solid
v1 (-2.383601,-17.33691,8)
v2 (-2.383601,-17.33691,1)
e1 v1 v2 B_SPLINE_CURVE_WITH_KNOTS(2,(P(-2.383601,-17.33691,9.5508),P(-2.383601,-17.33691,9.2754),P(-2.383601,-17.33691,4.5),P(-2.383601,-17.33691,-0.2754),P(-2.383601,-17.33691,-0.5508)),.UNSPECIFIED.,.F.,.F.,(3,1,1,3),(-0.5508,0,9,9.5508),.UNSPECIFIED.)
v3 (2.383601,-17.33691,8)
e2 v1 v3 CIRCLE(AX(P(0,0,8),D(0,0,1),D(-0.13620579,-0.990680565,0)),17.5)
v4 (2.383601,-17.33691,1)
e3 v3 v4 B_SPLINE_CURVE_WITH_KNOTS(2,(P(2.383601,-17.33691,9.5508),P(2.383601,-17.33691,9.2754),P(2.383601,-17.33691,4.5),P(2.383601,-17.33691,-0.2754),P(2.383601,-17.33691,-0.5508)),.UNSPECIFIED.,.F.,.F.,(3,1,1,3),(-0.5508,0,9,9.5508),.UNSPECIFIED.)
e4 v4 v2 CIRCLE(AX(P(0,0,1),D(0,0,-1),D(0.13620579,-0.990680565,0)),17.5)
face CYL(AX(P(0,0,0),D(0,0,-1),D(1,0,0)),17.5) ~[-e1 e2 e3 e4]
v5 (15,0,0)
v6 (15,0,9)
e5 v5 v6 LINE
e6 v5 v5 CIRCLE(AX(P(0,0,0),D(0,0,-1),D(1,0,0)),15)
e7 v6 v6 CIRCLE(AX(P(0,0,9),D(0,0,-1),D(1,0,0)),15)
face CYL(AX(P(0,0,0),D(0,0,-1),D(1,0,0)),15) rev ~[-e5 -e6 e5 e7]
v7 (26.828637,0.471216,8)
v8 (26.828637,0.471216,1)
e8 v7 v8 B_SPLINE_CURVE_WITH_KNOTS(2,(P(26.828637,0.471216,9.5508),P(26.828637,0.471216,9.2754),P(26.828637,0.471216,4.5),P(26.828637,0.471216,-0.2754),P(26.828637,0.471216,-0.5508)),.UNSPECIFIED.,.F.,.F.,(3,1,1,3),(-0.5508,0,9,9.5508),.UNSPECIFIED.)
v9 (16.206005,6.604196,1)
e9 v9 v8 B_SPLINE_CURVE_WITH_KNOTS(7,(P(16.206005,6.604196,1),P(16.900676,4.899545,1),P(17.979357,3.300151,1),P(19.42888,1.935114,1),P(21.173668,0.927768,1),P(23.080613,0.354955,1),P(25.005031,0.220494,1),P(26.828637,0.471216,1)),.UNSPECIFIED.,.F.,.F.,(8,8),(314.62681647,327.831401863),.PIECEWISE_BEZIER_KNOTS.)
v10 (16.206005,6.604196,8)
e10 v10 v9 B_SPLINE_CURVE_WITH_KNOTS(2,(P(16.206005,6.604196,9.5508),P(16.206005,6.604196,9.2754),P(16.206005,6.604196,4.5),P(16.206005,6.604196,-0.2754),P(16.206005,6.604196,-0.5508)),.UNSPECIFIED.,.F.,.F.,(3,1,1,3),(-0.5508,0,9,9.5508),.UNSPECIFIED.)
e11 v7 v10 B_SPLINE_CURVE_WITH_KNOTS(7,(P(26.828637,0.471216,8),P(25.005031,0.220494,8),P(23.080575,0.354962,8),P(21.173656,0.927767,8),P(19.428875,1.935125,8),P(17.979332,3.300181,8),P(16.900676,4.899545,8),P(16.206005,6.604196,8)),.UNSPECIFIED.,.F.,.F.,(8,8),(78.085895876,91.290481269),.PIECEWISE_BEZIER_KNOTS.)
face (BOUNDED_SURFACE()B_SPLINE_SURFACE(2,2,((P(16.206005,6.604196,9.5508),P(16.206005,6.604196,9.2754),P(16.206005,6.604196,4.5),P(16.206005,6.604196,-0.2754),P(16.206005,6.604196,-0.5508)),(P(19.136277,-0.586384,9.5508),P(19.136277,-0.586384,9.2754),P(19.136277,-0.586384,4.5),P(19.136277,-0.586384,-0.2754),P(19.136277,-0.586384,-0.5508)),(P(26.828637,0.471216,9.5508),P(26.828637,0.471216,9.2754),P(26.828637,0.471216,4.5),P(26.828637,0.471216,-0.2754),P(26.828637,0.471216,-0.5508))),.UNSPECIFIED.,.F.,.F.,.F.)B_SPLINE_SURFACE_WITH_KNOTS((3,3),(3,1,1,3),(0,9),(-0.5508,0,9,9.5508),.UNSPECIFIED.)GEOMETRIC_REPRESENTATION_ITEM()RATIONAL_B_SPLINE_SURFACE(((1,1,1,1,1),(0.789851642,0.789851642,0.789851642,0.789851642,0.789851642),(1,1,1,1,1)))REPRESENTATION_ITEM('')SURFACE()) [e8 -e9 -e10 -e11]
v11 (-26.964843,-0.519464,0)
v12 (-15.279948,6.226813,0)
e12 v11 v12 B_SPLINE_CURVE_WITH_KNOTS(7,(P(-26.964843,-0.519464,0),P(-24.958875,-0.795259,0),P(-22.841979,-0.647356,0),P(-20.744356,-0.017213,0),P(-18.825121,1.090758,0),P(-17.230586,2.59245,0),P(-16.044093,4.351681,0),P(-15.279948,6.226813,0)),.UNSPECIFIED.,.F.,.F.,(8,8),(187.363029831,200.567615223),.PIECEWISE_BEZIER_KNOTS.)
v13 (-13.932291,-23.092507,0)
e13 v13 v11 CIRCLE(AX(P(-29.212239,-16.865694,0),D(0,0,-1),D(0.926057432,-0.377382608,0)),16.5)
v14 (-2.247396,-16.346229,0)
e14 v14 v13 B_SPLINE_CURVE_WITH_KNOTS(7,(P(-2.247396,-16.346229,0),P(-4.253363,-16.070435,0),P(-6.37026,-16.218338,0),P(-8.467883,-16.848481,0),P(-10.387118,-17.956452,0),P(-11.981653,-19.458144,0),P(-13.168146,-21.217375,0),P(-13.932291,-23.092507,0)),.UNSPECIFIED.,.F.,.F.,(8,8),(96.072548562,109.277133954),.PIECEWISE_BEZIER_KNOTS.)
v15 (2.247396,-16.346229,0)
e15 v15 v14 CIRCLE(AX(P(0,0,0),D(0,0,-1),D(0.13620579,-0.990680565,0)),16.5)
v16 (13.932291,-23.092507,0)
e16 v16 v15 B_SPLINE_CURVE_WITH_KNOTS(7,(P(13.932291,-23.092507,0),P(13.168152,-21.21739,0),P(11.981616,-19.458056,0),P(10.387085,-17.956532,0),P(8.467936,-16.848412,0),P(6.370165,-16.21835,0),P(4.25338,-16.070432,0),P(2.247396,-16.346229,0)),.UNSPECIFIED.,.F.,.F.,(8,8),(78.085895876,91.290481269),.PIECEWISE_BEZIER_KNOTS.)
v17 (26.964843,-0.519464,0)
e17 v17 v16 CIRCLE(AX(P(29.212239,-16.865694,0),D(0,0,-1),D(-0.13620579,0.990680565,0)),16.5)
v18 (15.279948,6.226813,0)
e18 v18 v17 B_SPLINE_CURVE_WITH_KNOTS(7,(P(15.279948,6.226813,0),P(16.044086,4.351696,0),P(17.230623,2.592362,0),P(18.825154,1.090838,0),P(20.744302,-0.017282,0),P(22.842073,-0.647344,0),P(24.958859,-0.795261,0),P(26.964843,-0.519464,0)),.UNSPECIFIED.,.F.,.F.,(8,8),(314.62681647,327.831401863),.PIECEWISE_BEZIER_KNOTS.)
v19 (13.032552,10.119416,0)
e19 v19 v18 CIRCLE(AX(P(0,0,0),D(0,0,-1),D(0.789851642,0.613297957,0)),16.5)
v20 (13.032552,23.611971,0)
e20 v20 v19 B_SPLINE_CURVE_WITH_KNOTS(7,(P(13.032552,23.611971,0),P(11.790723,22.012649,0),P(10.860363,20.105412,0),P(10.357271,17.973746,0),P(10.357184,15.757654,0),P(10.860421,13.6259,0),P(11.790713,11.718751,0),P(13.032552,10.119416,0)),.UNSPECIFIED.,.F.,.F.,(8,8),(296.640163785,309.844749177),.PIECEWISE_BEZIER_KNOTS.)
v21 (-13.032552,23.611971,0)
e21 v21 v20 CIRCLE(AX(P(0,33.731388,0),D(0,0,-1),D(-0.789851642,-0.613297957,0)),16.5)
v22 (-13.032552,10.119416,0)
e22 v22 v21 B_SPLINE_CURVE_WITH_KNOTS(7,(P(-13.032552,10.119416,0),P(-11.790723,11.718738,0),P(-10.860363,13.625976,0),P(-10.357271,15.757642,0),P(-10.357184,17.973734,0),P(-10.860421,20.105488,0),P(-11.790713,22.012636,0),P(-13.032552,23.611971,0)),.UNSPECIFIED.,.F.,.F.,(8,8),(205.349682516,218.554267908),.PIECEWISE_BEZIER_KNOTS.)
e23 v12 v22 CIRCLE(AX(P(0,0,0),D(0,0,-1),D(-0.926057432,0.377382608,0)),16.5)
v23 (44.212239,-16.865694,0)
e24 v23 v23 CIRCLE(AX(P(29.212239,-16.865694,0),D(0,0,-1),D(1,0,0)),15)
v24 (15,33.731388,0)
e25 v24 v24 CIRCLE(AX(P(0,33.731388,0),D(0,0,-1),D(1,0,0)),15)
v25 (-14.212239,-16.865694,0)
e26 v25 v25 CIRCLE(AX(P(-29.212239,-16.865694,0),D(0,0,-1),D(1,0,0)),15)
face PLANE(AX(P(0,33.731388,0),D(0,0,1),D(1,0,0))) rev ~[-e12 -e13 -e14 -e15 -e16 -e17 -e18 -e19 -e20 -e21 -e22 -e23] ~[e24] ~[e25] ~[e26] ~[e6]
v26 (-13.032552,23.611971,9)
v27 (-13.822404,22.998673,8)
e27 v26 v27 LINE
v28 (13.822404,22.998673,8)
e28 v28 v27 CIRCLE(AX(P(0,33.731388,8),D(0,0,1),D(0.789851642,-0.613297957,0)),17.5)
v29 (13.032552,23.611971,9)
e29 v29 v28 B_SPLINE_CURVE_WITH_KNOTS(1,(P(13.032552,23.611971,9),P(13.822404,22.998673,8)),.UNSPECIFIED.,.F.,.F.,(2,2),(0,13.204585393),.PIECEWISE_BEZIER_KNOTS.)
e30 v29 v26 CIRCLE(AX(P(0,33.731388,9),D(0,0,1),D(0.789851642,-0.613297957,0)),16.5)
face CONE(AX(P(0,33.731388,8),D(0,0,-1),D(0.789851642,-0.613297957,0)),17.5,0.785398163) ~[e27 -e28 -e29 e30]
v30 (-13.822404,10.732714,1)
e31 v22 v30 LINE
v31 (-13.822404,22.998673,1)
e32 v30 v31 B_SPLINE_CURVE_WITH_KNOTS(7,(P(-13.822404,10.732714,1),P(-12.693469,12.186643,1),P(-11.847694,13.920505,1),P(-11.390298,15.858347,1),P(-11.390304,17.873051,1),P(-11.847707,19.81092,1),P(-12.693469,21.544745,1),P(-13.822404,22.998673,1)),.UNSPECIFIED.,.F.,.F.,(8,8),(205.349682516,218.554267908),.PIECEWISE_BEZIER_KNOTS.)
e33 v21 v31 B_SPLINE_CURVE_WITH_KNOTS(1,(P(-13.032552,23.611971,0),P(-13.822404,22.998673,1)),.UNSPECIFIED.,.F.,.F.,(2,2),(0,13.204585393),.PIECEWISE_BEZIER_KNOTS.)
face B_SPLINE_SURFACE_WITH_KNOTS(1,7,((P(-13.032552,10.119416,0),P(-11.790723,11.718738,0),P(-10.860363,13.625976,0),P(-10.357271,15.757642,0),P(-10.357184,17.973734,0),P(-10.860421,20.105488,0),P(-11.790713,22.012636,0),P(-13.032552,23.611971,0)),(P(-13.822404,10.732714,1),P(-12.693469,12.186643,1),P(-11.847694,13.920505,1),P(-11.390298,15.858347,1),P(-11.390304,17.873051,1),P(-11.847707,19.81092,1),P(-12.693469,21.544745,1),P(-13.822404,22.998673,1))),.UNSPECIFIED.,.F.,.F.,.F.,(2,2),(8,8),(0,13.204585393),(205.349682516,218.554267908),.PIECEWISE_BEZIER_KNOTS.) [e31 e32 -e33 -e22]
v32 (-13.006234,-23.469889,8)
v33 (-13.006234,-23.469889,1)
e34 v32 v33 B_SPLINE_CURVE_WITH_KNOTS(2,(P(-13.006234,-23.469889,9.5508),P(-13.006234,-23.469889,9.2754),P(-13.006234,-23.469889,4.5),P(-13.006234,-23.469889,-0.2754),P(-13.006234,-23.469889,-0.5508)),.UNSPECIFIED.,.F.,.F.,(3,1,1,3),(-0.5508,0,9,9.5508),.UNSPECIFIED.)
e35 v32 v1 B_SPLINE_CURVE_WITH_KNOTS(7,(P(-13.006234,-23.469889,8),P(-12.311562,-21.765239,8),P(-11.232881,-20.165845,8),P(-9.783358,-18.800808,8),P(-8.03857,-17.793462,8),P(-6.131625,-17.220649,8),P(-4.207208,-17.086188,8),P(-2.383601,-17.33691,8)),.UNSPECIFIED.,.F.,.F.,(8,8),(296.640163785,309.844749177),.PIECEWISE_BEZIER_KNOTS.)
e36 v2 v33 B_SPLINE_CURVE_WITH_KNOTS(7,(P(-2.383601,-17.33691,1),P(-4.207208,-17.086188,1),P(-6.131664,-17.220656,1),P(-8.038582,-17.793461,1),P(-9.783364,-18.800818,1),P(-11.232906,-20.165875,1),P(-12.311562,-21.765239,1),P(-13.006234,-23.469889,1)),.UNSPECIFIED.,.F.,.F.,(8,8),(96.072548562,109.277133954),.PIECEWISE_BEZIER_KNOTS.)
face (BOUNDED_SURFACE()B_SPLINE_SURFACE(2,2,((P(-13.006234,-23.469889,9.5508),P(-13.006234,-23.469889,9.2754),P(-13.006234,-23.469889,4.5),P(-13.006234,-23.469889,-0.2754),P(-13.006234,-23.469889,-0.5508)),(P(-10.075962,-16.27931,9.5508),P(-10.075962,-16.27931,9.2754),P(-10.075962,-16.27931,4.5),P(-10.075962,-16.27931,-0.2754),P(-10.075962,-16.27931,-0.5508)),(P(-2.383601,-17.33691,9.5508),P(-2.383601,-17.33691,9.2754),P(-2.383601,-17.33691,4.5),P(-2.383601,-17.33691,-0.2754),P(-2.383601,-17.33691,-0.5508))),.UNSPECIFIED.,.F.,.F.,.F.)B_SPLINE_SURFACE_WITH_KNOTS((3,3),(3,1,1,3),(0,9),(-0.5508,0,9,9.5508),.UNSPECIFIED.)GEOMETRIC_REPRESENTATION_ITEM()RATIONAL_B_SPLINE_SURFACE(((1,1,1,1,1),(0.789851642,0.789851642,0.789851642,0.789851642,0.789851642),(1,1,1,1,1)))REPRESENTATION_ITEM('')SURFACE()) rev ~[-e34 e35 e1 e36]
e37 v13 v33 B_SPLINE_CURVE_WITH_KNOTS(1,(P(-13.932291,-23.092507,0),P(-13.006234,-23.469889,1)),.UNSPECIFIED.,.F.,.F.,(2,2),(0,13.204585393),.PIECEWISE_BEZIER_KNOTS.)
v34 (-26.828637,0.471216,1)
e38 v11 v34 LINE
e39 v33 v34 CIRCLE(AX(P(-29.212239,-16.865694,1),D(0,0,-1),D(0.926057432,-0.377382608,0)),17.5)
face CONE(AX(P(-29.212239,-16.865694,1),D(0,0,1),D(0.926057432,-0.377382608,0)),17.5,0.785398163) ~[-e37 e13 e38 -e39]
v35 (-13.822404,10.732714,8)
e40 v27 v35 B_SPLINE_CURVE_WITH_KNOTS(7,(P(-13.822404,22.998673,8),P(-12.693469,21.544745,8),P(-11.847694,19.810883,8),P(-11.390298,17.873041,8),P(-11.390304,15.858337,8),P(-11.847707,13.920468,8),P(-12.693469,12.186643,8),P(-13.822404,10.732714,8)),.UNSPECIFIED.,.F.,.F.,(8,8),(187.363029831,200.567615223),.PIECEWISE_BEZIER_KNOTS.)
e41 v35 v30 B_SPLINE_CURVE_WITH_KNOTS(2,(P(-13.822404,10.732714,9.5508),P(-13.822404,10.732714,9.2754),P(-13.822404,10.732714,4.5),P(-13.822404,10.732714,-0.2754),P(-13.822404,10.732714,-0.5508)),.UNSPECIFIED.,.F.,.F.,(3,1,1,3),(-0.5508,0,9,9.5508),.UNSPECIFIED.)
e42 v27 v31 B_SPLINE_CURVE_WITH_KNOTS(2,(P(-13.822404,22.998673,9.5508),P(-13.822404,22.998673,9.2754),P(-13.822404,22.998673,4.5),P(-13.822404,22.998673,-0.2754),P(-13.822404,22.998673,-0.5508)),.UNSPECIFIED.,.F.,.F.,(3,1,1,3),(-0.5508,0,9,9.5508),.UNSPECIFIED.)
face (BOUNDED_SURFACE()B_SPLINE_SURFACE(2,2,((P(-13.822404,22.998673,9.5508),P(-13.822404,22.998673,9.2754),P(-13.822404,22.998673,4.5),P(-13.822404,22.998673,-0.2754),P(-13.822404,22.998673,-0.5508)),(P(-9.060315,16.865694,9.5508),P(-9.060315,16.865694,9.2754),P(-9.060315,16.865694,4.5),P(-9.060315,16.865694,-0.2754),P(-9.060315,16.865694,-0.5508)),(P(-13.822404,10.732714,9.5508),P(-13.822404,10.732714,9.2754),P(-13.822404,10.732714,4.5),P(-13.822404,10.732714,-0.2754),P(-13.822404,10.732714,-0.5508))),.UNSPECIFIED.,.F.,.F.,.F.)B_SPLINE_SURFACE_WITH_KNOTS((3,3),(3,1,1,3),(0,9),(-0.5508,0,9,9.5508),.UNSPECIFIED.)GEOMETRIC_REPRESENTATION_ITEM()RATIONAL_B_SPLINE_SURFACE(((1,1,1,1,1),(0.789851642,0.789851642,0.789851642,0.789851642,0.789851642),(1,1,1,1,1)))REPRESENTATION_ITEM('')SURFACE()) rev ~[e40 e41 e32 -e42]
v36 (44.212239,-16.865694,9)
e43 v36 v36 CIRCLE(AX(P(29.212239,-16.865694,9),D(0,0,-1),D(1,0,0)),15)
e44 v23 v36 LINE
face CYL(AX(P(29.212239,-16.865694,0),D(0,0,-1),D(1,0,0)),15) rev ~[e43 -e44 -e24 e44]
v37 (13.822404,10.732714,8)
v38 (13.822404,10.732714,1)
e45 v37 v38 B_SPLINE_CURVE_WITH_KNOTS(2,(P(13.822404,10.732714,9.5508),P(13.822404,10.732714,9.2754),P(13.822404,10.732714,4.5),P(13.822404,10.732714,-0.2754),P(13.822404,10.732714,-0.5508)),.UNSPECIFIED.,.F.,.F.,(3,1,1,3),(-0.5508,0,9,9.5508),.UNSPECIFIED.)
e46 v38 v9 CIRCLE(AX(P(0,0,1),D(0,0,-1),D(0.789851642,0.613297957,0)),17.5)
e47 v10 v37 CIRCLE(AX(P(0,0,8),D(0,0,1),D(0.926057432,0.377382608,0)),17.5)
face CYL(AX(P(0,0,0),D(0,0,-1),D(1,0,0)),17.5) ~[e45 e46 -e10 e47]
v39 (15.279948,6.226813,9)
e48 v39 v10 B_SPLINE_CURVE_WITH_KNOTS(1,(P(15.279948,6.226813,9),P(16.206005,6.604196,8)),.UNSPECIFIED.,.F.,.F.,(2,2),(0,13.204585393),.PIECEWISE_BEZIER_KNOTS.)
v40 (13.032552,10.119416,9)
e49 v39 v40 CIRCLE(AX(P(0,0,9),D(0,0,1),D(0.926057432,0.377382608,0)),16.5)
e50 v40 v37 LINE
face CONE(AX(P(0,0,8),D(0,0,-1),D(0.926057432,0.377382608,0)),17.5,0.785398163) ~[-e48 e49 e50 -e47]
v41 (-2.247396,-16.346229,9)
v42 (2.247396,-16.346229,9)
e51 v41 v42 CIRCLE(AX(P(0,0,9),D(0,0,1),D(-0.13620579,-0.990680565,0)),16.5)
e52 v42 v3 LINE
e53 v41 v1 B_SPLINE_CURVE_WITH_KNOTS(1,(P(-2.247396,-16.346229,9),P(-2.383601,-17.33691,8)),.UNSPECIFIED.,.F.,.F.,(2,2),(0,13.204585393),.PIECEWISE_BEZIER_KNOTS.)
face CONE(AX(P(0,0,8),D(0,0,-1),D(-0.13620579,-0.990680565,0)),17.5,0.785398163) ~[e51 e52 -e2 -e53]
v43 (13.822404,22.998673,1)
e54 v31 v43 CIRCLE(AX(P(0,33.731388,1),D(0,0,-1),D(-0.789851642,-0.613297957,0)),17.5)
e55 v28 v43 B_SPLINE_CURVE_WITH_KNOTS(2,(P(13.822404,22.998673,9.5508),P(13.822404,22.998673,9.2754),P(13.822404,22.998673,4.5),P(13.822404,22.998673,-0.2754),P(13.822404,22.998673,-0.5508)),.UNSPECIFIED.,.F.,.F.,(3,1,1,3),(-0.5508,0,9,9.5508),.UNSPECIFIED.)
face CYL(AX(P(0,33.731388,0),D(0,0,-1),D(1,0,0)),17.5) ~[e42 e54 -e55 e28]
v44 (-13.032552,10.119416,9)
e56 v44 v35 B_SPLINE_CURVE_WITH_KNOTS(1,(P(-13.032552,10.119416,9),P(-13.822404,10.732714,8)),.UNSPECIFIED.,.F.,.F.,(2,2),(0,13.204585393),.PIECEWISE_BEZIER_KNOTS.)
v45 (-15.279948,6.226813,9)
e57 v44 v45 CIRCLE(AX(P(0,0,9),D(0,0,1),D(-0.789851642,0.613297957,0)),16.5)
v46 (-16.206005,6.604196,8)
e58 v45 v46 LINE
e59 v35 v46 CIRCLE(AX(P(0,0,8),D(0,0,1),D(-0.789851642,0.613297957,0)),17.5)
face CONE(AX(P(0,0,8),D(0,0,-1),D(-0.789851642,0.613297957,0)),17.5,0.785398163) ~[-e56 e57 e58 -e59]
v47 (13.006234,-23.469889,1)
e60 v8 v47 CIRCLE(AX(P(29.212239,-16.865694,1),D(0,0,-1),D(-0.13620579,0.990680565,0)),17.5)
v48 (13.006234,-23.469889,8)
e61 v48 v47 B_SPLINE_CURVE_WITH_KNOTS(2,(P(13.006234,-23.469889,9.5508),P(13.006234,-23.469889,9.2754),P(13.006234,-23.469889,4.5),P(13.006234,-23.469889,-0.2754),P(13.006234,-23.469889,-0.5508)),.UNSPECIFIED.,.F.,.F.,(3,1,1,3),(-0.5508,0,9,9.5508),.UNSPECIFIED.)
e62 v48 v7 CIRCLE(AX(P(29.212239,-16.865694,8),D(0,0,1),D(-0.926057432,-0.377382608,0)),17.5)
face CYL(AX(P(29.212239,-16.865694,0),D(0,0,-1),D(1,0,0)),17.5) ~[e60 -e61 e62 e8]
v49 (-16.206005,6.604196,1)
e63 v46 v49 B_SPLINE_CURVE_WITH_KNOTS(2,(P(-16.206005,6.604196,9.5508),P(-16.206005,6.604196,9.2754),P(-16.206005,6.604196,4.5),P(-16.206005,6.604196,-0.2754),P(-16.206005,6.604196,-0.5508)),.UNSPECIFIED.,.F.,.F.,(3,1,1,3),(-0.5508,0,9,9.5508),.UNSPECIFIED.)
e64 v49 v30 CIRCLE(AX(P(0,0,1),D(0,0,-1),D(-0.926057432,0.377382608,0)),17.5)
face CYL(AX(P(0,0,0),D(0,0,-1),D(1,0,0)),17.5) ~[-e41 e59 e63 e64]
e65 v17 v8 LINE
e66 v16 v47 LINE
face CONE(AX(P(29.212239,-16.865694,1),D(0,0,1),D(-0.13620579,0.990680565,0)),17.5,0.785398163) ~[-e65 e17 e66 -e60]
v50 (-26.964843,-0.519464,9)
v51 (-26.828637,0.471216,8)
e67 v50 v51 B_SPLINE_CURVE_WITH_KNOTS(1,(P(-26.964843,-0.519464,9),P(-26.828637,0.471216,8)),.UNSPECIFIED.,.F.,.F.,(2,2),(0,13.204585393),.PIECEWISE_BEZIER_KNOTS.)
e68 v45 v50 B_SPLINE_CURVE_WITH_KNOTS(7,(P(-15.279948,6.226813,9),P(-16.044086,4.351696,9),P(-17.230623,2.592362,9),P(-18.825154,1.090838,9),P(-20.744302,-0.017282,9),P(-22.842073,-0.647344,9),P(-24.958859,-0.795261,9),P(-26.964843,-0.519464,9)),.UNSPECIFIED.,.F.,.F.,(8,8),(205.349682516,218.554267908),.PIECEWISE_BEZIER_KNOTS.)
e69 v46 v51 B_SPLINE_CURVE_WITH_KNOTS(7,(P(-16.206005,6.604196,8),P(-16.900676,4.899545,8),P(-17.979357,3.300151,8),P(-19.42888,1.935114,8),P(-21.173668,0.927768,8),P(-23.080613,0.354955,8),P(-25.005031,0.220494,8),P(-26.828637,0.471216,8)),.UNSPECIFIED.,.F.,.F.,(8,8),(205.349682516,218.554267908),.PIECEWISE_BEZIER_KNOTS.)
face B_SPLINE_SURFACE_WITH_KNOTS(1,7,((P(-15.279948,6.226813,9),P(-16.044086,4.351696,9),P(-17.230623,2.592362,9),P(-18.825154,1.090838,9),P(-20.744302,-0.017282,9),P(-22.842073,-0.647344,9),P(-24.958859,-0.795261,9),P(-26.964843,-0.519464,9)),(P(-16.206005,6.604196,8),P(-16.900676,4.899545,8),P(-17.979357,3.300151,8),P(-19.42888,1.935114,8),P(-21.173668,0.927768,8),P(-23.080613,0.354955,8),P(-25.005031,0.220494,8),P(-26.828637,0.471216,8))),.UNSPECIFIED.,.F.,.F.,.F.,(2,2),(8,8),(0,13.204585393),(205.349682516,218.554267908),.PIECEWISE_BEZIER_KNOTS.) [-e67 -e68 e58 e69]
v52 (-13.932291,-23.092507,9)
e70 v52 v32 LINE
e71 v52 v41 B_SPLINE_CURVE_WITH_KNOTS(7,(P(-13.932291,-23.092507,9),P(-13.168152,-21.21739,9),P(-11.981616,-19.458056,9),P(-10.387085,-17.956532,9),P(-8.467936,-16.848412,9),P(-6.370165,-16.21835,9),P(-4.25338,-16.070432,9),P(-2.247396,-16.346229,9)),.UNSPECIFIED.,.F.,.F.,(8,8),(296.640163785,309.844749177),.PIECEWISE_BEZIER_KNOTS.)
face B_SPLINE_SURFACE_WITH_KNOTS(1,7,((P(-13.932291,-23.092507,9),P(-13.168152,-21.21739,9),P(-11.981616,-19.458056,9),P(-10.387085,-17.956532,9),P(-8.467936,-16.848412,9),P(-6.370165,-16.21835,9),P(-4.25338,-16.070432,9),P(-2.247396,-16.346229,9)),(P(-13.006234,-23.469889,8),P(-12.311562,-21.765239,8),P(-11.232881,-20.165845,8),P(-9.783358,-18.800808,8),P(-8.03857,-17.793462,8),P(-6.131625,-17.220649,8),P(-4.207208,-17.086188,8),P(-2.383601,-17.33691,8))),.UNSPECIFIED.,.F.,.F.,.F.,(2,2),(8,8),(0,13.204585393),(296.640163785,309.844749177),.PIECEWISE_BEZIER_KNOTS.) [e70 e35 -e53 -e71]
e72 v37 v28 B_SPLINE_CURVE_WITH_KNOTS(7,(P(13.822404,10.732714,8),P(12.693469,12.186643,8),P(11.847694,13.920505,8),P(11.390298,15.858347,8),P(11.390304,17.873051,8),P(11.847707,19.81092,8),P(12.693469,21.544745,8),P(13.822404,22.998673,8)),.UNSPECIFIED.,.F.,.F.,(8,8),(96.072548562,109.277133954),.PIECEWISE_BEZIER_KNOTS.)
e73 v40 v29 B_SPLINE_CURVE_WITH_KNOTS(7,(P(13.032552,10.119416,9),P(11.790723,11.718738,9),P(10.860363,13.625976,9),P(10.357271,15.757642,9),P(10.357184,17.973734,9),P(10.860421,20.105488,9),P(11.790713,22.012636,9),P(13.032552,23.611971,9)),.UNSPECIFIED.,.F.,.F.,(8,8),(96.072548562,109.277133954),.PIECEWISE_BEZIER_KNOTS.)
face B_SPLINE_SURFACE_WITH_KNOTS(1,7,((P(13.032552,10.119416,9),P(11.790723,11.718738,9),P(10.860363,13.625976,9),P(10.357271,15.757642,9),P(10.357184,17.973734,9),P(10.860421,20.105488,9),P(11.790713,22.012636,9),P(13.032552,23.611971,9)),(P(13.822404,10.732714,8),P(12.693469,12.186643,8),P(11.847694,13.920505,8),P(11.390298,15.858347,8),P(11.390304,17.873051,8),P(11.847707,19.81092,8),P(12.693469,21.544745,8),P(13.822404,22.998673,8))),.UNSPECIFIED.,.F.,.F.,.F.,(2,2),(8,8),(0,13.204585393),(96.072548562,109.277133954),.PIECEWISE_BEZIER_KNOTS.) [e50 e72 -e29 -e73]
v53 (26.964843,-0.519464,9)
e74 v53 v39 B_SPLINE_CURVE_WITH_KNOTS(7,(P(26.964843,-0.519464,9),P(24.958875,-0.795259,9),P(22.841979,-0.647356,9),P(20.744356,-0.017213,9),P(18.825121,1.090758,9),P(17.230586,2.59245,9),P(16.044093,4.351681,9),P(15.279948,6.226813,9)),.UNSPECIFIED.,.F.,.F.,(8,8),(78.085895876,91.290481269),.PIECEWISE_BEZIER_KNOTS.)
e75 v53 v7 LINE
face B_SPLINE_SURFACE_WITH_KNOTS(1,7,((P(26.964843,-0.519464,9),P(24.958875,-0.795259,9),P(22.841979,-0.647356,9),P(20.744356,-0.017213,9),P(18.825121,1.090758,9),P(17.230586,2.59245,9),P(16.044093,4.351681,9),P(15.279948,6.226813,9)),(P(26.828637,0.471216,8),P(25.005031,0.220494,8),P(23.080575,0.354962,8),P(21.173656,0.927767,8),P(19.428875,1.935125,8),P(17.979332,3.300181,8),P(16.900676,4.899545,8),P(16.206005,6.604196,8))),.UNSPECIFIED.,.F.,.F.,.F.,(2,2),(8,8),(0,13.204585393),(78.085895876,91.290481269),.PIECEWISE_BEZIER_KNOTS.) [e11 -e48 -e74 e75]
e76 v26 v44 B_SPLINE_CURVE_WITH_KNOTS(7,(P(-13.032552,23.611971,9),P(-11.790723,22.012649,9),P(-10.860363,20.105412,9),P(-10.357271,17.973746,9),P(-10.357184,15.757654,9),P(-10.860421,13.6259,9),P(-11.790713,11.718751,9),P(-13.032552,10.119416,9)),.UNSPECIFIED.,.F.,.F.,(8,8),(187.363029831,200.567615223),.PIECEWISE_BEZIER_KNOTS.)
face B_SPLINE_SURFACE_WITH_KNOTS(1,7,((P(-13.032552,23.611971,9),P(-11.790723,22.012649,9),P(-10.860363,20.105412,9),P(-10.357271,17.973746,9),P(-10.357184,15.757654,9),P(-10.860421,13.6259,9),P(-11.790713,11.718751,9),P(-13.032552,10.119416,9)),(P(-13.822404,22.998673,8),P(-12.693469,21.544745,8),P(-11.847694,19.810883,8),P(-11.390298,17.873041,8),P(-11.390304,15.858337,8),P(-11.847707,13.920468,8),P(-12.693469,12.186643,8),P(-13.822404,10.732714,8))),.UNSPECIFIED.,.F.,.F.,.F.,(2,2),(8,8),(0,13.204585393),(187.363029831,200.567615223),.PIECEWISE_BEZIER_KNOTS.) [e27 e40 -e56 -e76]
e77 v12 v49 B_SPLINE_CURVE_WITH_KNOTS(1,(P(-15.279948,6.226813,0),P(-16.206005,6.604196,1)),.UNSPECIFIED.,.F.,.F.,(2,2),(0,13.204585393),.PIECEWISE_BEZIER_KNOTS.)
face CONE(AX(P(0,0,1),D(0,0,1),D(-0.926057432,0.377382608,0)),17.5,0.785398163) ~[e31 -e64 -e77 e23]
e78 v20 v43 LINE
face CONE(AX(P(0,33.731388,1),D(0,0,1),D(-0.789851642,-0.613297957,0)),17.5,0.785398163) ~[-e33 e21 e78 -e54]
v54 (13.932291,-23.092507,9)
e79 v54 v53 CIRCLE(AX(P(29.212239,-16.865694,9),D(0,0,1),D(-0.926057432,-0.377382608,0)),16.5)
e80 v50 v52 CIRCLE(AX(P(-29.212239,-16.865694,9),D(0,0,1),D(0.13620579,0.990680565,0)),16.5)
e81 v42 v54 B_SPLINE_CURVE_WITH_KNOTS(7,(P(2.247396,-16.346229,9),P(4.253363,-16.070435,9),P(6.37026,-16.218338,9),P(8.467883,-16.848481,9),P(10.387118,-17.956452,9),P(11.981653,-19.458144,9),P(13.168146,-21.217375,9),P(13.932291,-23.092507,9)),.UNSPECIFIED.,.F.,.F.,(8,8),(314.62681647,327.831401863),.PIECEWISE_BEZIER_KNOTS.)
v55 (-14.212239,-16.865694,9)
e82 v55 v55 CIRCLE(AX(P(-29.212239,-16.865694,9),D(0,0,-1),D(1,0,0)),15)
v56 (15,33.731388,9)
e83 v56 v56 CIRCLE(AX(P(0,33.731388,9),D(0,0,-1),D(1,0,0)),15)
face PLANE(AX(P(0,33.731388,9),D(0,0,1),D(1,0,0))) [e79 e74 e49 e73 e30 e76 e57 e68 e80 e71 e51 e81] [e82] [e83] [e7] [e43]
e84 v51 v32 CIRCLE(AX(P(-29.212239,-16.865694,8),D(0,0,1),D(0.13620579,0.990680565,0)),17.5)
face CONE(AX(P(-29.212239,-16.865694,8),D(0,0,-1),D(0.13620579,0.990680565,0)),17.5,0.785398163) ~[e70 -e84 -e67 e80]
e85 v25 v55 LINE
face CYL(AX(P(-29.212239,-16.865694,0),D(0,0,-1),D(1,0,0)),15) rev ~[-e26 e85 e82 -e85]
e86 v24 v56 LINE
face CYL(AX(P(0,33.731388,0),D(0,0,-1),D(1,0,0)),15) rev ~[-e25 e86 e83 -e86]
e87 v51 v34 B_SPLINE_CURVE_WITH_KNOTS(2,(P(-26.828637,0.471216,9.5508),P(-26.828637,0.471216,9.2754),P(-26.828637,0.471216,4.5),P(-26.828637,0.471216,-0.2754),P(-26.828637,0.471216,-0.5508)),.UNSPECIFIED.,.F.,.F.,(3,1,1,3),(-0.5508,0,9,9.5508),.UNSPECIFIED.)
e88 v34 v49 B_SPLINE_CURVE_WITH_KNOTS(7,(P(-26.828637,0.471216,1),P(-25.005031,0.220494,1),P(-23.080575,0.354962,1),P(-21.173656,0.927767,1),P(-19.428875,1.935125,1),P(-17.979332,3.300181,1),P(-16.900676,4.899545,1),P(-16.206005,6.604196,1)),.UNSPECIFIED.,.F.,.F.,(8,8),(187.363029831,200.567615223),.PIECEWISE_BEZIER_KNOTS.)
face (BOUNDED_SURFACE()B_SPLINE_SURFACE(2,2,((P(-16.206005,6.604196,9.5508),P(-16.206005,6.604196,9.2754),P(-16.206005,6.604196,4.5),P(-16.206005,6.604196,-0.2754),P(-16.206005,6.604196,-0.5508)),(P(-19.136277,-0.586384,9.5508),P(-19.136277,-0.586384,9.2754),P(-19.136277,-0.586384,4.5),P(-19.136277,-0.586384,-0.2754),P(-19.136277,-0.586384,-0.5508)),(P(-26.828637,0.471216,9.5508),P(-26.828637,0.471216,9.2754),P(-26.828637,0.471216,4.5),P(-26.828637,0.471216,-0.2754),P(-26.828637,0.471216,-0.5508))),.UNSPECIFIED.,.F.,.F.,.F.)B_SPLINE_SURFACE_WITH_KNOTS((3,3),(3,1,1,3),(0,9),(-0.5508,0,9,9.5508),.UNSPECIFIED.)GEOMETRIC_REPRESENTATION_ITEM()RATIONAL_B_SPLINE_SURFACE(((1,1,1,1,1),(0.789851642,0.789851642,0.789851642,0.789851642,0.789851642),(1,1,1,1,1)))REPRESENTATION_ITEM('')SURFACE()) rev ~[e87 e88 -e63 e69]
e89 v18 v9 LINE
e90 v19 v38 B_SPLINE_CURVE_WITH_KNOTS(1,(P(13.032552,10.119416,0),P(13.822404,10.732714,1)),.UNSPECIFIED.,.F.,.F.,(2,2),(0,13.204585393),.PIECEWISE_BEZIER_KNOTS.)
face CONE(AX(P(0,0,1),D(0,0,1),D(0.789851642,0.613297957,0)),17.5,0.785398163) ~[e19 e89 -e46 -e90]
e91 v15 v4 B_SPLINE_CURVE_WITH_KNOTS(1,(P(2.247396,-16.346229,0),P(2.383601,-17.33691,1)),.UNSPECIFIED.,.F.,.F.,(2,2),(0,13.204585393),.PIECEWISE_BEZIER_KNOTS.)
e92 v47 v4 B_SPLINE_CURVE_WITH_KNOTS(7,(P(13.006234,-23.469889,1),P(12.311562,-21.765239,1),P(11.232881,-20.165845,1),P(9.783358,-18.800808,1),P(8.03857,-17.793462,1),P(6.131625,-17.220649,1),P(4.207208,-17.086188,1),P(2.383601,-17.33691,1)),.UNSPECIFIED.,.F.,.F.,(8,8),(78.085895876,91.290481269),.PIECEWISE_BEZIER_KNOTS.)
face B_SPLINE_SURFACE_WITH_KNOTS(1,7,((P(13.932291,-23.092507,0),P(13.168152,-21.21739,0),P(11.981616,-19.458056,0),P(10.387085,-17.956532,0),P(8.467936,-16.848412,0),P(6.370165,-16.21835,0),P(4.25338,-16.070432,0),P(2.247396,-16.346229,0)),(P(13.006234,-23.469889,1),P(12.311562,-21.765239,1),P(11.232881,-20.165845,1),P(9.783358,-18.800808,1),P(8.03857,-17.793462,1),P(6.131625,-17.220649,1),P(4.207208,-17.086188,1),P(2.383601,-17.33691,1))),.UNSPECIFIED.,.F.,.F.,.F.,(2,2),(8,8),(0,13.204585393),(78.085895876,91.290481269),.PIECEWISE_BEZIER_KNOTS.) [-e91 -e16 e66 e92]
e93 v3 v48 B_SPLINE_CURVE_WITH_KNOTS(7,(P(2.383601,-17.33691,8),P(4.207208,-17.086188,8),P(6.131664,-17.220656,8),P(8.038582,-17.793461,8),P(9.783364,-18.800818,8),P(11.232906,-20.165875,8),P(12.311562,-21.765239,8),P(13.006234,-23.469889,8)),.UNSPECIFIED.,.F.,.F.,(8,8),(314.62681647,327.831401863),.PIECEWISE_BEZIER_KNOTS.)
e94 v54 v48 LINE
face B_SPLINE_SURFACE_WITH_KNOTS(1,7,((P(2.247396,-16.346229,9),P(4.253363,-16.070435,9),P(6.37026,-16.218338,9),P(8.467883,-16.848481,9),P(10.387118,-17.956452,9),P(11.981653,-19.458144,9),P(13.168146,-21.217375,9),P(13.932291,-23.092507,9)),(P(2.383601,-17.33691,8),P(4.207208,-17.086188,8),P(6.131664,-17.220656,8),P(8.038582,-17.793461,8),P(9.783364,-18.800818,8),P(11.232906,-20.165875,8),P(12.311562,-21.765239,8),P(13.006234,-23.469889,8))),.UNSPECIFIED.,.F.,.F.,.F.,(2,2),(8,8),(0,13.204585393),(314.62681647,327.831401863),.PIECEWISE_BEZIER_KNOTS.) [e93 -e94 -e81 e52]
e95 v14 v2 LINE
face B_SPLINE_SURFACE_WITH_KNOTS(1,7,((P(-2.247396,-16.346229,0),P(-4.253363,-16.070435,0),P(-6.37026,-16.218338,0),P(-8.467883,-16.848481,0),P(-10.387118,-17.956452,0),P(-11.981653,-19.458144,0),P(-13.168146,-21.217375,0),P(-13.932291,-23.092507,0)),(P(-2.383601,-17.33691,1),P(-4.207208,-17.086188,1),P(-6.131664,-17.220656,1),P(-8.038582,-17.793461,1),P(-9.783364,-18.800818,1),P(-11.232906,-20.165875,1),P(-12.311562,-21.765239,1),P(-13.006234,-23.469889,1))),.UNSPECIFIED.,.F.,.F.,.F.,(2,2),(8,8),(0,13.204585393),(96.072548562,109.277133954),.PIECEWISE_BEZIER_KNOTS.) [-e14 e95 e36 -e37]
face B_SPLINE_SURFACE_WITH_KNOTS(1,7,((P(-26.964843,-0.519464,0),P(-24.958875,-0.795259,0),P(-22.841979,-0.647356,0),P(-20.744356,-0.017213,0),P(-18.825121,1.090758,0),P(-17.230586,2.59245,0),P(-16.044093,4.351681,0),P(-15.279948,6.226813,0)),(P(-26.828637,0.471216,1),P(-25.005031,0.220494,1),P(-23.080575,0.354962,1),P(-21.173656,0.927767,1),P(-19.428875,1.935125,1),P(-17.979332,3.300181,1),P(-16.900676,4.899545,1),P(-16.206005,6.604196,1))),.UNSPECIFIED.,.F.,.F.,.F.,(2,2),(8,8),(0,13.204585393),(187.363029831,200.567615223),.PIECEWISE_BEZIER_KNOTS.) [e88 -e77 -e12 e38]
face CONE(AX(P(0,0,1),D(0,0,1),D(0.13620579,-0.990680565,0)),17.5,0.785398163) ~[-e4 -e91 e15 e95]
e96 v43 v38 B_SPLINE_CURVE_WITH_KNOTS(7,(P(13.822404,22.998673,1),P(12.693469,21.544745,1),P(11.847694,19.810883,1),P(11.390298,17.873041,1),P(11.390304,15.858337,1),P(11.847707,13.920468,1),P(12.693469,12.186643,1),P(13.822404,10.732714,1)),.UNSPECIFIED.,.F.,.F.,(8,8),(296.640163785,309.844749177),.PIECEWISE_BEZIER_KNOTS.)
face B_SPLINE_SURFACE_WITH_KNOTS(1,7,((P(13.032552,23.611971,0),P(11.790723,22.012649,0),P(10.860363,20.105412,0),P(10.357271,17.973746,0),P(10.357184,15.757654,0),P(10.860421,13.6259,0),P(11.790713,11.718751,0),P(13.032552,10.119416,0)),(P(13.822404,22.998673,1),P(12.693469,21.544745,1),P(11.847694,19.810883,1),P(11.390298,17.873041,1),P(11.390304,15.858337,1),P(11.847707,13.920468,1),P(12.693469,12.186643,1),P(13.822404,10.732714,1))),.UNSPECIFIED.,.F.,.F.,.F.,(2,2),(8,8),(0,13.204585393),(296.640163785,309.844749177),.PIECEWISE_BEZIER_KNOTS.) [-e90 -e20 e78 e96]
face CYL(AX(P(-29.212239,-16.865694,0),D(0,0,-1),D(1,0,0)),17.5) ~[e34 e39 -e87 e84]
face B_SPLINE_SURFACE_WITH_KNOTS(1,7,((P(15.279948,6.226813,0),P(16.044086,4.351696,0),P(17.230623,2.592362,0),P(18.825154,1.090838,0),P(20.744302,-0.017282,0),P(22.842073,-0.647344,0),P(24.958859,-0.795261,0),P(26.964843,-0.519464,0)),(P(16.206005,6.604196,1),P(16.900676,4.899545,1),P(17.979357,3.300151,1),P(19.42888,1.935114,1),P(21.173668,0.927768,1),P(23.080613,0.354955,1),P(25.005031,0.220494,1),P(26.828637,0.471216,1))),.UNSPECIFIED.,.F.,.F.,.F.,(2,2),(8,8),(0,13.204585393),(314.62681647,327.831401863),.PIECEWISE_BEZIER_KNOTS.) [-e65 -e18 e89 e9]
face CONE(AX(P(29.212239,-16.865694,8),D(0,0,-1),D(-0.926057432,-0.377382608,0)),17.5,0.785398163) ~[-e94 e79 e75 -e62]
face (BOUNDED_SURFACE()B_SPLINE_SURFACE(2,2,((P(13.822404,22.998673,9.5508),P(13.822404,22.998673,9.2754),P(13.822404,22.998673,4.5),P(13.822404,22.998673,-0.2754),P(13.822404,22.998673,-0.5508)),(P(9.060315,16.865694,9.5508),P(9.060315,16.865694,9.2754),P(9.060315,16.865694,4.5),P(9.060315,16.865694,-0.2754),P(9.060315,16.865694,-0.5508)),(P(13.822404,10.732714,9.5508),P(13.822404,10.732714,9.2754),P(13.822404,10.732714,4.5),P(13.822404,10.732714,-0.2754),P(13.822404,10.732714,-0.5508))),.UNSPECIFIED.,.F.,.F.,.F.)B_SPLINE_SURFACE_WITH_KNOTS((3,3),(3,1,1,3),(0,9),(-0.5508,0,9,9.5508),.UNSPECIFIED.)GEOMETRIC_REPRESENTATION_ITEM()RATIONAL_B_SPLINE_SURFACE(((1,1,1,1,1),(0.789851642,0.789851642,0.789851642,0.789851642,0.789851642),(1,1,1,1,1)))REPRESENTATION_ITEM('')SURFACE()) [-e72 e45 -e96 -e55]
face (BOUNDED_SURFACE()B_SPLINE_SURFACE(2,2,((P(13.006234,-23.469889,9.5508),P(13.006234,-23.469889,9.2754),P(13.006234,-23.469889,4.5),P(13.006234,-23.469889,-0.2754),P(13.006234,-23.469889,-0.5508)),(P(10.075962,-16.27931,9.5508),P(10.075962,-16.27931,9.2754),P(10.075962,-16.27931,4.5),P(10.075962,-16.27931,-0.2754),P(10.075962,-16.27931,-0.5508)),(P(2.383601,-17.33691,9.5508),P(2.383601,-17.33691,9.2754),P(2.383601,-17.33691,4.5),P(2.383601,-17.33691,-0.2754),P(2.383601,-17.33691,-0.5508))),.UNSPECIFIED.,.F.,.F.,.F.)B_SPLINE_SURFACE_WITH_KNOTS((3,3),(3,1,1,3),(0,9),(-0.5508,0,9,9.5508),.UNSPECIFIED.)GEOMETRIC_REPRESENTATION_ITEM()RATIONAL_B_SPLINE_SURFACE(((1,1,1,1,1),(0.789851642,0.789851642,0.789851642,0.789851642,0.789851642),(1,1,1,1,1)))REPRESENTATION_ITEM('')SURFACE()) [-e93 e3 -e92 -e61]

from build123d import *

# Parameters (mm, degrees)
F0_R      = 17.5
F1_DEPTH  = 9
F2_R      = 17.5
F3_DEPTH  = 9
F4_R      = 15
F6_DEPTH  = 25
F5_R      = 15
F7_DEPTH  = 25
F8_R      = 15
F9_DEPTH  = 25
F10_R     = 15
F11_DEPTH = 25
F12_R     = 10
F13_SIZE  = 1
F14_SIZE  = 1


with BuildPart() as f1:
    # F0 (on Top) → F1 (new body)
    with BuildSketch(Plane.XY):
        Circle(F0_R)
    extrude(amount=F1_DEPTH)

    # F2 (on Top) → F3 (join)
    with BuildSketch(Plane.XY):
        with Locations((0, 33.7313876416)):
            Circle(F2_R)
        with Locations((29.2122386025, -16.8656938208)):
            Circle(F2_R)
        with Locations((-29.2122386025, -16.8656938208)):
            Circle(F2_R)
    extrude(amount=F3_DEPTH)

    # F4 (on face) → F6 (cut)
    with BuildSketch(Plane(origin=(0, 0, 0), x_dir=(1, 0, 0), z_dir=(0, 0, -1))):
        with Locations((0, -33.7313876416)):
            Circle(F4_R)
    extrude(amount=-F6_DEPTH, mode=Mode.SUBTRACT)

    # F5 (on face) → F7 (cut)
    with BuildSketch(Plane(origin=(0, 0, 0), x_dir=(1, 0, 0), z_dir=(0, 0, -1))):
        Circle(F5_R)
    extrude(amount=-F7_DEPTH, mode=Mode.SUBTRACT)

    # F8 (on face) → F9 (cut)
    with BuildSketch(Plane(origin=(0, 0, 0), x_dir=(1, 0, 0), z_dir=(0, 0, -1))):
        with Locations((-29.2122386025, 16.8656938208)):
            Circle(F8_R)
    extrude(amount=-F9_DEPTH, mode=Mode.SUBTRACT)

    # F10 (on face) → F11 (cut)
    with BuildSketch(Plane(origin=(0, 0, 0), x_dir=(1, 0, 0), z_dir=(0, 0, -1))):
        with Locations((29.2122386025, 16.8656938208)):
            Circle(F10_R)
    extrude(amount=-F11_DEPTH, mode=Mode.SUBTRACT)

    # F12
    f12_edges = [f1.edges().sort_by_distance(p)[0] for p in [
        (16.940556, -4.389485, 4.5),
        (12.271683, -12.476209, 4.5),
        (-16.940556, -4.389485, 4.5),
        (-12.271683, -12.476209, 4.5),
        (4.668873, 16.865694, 4.5),
        (-4.668873, 16.865694, 4.5),
    ]]
    fillet(f12_edges, radius=F12_R)

    # F13
    f13_edges = [f1.edges().sort_by_distance(p)[0] for p in [
        (44.367683, -25.615694, 0),
    ]]
    chamfer(f13_edges, length=F13_SIZE)

    # F14
    f14_edges = [f1.edges().sort_by_distance(p)[0] for p in [
        (44.367683, -25.615694, 9),
    ]]
    chamfer(f14_edges, length=F14_SIZE)


solid = f1.part
